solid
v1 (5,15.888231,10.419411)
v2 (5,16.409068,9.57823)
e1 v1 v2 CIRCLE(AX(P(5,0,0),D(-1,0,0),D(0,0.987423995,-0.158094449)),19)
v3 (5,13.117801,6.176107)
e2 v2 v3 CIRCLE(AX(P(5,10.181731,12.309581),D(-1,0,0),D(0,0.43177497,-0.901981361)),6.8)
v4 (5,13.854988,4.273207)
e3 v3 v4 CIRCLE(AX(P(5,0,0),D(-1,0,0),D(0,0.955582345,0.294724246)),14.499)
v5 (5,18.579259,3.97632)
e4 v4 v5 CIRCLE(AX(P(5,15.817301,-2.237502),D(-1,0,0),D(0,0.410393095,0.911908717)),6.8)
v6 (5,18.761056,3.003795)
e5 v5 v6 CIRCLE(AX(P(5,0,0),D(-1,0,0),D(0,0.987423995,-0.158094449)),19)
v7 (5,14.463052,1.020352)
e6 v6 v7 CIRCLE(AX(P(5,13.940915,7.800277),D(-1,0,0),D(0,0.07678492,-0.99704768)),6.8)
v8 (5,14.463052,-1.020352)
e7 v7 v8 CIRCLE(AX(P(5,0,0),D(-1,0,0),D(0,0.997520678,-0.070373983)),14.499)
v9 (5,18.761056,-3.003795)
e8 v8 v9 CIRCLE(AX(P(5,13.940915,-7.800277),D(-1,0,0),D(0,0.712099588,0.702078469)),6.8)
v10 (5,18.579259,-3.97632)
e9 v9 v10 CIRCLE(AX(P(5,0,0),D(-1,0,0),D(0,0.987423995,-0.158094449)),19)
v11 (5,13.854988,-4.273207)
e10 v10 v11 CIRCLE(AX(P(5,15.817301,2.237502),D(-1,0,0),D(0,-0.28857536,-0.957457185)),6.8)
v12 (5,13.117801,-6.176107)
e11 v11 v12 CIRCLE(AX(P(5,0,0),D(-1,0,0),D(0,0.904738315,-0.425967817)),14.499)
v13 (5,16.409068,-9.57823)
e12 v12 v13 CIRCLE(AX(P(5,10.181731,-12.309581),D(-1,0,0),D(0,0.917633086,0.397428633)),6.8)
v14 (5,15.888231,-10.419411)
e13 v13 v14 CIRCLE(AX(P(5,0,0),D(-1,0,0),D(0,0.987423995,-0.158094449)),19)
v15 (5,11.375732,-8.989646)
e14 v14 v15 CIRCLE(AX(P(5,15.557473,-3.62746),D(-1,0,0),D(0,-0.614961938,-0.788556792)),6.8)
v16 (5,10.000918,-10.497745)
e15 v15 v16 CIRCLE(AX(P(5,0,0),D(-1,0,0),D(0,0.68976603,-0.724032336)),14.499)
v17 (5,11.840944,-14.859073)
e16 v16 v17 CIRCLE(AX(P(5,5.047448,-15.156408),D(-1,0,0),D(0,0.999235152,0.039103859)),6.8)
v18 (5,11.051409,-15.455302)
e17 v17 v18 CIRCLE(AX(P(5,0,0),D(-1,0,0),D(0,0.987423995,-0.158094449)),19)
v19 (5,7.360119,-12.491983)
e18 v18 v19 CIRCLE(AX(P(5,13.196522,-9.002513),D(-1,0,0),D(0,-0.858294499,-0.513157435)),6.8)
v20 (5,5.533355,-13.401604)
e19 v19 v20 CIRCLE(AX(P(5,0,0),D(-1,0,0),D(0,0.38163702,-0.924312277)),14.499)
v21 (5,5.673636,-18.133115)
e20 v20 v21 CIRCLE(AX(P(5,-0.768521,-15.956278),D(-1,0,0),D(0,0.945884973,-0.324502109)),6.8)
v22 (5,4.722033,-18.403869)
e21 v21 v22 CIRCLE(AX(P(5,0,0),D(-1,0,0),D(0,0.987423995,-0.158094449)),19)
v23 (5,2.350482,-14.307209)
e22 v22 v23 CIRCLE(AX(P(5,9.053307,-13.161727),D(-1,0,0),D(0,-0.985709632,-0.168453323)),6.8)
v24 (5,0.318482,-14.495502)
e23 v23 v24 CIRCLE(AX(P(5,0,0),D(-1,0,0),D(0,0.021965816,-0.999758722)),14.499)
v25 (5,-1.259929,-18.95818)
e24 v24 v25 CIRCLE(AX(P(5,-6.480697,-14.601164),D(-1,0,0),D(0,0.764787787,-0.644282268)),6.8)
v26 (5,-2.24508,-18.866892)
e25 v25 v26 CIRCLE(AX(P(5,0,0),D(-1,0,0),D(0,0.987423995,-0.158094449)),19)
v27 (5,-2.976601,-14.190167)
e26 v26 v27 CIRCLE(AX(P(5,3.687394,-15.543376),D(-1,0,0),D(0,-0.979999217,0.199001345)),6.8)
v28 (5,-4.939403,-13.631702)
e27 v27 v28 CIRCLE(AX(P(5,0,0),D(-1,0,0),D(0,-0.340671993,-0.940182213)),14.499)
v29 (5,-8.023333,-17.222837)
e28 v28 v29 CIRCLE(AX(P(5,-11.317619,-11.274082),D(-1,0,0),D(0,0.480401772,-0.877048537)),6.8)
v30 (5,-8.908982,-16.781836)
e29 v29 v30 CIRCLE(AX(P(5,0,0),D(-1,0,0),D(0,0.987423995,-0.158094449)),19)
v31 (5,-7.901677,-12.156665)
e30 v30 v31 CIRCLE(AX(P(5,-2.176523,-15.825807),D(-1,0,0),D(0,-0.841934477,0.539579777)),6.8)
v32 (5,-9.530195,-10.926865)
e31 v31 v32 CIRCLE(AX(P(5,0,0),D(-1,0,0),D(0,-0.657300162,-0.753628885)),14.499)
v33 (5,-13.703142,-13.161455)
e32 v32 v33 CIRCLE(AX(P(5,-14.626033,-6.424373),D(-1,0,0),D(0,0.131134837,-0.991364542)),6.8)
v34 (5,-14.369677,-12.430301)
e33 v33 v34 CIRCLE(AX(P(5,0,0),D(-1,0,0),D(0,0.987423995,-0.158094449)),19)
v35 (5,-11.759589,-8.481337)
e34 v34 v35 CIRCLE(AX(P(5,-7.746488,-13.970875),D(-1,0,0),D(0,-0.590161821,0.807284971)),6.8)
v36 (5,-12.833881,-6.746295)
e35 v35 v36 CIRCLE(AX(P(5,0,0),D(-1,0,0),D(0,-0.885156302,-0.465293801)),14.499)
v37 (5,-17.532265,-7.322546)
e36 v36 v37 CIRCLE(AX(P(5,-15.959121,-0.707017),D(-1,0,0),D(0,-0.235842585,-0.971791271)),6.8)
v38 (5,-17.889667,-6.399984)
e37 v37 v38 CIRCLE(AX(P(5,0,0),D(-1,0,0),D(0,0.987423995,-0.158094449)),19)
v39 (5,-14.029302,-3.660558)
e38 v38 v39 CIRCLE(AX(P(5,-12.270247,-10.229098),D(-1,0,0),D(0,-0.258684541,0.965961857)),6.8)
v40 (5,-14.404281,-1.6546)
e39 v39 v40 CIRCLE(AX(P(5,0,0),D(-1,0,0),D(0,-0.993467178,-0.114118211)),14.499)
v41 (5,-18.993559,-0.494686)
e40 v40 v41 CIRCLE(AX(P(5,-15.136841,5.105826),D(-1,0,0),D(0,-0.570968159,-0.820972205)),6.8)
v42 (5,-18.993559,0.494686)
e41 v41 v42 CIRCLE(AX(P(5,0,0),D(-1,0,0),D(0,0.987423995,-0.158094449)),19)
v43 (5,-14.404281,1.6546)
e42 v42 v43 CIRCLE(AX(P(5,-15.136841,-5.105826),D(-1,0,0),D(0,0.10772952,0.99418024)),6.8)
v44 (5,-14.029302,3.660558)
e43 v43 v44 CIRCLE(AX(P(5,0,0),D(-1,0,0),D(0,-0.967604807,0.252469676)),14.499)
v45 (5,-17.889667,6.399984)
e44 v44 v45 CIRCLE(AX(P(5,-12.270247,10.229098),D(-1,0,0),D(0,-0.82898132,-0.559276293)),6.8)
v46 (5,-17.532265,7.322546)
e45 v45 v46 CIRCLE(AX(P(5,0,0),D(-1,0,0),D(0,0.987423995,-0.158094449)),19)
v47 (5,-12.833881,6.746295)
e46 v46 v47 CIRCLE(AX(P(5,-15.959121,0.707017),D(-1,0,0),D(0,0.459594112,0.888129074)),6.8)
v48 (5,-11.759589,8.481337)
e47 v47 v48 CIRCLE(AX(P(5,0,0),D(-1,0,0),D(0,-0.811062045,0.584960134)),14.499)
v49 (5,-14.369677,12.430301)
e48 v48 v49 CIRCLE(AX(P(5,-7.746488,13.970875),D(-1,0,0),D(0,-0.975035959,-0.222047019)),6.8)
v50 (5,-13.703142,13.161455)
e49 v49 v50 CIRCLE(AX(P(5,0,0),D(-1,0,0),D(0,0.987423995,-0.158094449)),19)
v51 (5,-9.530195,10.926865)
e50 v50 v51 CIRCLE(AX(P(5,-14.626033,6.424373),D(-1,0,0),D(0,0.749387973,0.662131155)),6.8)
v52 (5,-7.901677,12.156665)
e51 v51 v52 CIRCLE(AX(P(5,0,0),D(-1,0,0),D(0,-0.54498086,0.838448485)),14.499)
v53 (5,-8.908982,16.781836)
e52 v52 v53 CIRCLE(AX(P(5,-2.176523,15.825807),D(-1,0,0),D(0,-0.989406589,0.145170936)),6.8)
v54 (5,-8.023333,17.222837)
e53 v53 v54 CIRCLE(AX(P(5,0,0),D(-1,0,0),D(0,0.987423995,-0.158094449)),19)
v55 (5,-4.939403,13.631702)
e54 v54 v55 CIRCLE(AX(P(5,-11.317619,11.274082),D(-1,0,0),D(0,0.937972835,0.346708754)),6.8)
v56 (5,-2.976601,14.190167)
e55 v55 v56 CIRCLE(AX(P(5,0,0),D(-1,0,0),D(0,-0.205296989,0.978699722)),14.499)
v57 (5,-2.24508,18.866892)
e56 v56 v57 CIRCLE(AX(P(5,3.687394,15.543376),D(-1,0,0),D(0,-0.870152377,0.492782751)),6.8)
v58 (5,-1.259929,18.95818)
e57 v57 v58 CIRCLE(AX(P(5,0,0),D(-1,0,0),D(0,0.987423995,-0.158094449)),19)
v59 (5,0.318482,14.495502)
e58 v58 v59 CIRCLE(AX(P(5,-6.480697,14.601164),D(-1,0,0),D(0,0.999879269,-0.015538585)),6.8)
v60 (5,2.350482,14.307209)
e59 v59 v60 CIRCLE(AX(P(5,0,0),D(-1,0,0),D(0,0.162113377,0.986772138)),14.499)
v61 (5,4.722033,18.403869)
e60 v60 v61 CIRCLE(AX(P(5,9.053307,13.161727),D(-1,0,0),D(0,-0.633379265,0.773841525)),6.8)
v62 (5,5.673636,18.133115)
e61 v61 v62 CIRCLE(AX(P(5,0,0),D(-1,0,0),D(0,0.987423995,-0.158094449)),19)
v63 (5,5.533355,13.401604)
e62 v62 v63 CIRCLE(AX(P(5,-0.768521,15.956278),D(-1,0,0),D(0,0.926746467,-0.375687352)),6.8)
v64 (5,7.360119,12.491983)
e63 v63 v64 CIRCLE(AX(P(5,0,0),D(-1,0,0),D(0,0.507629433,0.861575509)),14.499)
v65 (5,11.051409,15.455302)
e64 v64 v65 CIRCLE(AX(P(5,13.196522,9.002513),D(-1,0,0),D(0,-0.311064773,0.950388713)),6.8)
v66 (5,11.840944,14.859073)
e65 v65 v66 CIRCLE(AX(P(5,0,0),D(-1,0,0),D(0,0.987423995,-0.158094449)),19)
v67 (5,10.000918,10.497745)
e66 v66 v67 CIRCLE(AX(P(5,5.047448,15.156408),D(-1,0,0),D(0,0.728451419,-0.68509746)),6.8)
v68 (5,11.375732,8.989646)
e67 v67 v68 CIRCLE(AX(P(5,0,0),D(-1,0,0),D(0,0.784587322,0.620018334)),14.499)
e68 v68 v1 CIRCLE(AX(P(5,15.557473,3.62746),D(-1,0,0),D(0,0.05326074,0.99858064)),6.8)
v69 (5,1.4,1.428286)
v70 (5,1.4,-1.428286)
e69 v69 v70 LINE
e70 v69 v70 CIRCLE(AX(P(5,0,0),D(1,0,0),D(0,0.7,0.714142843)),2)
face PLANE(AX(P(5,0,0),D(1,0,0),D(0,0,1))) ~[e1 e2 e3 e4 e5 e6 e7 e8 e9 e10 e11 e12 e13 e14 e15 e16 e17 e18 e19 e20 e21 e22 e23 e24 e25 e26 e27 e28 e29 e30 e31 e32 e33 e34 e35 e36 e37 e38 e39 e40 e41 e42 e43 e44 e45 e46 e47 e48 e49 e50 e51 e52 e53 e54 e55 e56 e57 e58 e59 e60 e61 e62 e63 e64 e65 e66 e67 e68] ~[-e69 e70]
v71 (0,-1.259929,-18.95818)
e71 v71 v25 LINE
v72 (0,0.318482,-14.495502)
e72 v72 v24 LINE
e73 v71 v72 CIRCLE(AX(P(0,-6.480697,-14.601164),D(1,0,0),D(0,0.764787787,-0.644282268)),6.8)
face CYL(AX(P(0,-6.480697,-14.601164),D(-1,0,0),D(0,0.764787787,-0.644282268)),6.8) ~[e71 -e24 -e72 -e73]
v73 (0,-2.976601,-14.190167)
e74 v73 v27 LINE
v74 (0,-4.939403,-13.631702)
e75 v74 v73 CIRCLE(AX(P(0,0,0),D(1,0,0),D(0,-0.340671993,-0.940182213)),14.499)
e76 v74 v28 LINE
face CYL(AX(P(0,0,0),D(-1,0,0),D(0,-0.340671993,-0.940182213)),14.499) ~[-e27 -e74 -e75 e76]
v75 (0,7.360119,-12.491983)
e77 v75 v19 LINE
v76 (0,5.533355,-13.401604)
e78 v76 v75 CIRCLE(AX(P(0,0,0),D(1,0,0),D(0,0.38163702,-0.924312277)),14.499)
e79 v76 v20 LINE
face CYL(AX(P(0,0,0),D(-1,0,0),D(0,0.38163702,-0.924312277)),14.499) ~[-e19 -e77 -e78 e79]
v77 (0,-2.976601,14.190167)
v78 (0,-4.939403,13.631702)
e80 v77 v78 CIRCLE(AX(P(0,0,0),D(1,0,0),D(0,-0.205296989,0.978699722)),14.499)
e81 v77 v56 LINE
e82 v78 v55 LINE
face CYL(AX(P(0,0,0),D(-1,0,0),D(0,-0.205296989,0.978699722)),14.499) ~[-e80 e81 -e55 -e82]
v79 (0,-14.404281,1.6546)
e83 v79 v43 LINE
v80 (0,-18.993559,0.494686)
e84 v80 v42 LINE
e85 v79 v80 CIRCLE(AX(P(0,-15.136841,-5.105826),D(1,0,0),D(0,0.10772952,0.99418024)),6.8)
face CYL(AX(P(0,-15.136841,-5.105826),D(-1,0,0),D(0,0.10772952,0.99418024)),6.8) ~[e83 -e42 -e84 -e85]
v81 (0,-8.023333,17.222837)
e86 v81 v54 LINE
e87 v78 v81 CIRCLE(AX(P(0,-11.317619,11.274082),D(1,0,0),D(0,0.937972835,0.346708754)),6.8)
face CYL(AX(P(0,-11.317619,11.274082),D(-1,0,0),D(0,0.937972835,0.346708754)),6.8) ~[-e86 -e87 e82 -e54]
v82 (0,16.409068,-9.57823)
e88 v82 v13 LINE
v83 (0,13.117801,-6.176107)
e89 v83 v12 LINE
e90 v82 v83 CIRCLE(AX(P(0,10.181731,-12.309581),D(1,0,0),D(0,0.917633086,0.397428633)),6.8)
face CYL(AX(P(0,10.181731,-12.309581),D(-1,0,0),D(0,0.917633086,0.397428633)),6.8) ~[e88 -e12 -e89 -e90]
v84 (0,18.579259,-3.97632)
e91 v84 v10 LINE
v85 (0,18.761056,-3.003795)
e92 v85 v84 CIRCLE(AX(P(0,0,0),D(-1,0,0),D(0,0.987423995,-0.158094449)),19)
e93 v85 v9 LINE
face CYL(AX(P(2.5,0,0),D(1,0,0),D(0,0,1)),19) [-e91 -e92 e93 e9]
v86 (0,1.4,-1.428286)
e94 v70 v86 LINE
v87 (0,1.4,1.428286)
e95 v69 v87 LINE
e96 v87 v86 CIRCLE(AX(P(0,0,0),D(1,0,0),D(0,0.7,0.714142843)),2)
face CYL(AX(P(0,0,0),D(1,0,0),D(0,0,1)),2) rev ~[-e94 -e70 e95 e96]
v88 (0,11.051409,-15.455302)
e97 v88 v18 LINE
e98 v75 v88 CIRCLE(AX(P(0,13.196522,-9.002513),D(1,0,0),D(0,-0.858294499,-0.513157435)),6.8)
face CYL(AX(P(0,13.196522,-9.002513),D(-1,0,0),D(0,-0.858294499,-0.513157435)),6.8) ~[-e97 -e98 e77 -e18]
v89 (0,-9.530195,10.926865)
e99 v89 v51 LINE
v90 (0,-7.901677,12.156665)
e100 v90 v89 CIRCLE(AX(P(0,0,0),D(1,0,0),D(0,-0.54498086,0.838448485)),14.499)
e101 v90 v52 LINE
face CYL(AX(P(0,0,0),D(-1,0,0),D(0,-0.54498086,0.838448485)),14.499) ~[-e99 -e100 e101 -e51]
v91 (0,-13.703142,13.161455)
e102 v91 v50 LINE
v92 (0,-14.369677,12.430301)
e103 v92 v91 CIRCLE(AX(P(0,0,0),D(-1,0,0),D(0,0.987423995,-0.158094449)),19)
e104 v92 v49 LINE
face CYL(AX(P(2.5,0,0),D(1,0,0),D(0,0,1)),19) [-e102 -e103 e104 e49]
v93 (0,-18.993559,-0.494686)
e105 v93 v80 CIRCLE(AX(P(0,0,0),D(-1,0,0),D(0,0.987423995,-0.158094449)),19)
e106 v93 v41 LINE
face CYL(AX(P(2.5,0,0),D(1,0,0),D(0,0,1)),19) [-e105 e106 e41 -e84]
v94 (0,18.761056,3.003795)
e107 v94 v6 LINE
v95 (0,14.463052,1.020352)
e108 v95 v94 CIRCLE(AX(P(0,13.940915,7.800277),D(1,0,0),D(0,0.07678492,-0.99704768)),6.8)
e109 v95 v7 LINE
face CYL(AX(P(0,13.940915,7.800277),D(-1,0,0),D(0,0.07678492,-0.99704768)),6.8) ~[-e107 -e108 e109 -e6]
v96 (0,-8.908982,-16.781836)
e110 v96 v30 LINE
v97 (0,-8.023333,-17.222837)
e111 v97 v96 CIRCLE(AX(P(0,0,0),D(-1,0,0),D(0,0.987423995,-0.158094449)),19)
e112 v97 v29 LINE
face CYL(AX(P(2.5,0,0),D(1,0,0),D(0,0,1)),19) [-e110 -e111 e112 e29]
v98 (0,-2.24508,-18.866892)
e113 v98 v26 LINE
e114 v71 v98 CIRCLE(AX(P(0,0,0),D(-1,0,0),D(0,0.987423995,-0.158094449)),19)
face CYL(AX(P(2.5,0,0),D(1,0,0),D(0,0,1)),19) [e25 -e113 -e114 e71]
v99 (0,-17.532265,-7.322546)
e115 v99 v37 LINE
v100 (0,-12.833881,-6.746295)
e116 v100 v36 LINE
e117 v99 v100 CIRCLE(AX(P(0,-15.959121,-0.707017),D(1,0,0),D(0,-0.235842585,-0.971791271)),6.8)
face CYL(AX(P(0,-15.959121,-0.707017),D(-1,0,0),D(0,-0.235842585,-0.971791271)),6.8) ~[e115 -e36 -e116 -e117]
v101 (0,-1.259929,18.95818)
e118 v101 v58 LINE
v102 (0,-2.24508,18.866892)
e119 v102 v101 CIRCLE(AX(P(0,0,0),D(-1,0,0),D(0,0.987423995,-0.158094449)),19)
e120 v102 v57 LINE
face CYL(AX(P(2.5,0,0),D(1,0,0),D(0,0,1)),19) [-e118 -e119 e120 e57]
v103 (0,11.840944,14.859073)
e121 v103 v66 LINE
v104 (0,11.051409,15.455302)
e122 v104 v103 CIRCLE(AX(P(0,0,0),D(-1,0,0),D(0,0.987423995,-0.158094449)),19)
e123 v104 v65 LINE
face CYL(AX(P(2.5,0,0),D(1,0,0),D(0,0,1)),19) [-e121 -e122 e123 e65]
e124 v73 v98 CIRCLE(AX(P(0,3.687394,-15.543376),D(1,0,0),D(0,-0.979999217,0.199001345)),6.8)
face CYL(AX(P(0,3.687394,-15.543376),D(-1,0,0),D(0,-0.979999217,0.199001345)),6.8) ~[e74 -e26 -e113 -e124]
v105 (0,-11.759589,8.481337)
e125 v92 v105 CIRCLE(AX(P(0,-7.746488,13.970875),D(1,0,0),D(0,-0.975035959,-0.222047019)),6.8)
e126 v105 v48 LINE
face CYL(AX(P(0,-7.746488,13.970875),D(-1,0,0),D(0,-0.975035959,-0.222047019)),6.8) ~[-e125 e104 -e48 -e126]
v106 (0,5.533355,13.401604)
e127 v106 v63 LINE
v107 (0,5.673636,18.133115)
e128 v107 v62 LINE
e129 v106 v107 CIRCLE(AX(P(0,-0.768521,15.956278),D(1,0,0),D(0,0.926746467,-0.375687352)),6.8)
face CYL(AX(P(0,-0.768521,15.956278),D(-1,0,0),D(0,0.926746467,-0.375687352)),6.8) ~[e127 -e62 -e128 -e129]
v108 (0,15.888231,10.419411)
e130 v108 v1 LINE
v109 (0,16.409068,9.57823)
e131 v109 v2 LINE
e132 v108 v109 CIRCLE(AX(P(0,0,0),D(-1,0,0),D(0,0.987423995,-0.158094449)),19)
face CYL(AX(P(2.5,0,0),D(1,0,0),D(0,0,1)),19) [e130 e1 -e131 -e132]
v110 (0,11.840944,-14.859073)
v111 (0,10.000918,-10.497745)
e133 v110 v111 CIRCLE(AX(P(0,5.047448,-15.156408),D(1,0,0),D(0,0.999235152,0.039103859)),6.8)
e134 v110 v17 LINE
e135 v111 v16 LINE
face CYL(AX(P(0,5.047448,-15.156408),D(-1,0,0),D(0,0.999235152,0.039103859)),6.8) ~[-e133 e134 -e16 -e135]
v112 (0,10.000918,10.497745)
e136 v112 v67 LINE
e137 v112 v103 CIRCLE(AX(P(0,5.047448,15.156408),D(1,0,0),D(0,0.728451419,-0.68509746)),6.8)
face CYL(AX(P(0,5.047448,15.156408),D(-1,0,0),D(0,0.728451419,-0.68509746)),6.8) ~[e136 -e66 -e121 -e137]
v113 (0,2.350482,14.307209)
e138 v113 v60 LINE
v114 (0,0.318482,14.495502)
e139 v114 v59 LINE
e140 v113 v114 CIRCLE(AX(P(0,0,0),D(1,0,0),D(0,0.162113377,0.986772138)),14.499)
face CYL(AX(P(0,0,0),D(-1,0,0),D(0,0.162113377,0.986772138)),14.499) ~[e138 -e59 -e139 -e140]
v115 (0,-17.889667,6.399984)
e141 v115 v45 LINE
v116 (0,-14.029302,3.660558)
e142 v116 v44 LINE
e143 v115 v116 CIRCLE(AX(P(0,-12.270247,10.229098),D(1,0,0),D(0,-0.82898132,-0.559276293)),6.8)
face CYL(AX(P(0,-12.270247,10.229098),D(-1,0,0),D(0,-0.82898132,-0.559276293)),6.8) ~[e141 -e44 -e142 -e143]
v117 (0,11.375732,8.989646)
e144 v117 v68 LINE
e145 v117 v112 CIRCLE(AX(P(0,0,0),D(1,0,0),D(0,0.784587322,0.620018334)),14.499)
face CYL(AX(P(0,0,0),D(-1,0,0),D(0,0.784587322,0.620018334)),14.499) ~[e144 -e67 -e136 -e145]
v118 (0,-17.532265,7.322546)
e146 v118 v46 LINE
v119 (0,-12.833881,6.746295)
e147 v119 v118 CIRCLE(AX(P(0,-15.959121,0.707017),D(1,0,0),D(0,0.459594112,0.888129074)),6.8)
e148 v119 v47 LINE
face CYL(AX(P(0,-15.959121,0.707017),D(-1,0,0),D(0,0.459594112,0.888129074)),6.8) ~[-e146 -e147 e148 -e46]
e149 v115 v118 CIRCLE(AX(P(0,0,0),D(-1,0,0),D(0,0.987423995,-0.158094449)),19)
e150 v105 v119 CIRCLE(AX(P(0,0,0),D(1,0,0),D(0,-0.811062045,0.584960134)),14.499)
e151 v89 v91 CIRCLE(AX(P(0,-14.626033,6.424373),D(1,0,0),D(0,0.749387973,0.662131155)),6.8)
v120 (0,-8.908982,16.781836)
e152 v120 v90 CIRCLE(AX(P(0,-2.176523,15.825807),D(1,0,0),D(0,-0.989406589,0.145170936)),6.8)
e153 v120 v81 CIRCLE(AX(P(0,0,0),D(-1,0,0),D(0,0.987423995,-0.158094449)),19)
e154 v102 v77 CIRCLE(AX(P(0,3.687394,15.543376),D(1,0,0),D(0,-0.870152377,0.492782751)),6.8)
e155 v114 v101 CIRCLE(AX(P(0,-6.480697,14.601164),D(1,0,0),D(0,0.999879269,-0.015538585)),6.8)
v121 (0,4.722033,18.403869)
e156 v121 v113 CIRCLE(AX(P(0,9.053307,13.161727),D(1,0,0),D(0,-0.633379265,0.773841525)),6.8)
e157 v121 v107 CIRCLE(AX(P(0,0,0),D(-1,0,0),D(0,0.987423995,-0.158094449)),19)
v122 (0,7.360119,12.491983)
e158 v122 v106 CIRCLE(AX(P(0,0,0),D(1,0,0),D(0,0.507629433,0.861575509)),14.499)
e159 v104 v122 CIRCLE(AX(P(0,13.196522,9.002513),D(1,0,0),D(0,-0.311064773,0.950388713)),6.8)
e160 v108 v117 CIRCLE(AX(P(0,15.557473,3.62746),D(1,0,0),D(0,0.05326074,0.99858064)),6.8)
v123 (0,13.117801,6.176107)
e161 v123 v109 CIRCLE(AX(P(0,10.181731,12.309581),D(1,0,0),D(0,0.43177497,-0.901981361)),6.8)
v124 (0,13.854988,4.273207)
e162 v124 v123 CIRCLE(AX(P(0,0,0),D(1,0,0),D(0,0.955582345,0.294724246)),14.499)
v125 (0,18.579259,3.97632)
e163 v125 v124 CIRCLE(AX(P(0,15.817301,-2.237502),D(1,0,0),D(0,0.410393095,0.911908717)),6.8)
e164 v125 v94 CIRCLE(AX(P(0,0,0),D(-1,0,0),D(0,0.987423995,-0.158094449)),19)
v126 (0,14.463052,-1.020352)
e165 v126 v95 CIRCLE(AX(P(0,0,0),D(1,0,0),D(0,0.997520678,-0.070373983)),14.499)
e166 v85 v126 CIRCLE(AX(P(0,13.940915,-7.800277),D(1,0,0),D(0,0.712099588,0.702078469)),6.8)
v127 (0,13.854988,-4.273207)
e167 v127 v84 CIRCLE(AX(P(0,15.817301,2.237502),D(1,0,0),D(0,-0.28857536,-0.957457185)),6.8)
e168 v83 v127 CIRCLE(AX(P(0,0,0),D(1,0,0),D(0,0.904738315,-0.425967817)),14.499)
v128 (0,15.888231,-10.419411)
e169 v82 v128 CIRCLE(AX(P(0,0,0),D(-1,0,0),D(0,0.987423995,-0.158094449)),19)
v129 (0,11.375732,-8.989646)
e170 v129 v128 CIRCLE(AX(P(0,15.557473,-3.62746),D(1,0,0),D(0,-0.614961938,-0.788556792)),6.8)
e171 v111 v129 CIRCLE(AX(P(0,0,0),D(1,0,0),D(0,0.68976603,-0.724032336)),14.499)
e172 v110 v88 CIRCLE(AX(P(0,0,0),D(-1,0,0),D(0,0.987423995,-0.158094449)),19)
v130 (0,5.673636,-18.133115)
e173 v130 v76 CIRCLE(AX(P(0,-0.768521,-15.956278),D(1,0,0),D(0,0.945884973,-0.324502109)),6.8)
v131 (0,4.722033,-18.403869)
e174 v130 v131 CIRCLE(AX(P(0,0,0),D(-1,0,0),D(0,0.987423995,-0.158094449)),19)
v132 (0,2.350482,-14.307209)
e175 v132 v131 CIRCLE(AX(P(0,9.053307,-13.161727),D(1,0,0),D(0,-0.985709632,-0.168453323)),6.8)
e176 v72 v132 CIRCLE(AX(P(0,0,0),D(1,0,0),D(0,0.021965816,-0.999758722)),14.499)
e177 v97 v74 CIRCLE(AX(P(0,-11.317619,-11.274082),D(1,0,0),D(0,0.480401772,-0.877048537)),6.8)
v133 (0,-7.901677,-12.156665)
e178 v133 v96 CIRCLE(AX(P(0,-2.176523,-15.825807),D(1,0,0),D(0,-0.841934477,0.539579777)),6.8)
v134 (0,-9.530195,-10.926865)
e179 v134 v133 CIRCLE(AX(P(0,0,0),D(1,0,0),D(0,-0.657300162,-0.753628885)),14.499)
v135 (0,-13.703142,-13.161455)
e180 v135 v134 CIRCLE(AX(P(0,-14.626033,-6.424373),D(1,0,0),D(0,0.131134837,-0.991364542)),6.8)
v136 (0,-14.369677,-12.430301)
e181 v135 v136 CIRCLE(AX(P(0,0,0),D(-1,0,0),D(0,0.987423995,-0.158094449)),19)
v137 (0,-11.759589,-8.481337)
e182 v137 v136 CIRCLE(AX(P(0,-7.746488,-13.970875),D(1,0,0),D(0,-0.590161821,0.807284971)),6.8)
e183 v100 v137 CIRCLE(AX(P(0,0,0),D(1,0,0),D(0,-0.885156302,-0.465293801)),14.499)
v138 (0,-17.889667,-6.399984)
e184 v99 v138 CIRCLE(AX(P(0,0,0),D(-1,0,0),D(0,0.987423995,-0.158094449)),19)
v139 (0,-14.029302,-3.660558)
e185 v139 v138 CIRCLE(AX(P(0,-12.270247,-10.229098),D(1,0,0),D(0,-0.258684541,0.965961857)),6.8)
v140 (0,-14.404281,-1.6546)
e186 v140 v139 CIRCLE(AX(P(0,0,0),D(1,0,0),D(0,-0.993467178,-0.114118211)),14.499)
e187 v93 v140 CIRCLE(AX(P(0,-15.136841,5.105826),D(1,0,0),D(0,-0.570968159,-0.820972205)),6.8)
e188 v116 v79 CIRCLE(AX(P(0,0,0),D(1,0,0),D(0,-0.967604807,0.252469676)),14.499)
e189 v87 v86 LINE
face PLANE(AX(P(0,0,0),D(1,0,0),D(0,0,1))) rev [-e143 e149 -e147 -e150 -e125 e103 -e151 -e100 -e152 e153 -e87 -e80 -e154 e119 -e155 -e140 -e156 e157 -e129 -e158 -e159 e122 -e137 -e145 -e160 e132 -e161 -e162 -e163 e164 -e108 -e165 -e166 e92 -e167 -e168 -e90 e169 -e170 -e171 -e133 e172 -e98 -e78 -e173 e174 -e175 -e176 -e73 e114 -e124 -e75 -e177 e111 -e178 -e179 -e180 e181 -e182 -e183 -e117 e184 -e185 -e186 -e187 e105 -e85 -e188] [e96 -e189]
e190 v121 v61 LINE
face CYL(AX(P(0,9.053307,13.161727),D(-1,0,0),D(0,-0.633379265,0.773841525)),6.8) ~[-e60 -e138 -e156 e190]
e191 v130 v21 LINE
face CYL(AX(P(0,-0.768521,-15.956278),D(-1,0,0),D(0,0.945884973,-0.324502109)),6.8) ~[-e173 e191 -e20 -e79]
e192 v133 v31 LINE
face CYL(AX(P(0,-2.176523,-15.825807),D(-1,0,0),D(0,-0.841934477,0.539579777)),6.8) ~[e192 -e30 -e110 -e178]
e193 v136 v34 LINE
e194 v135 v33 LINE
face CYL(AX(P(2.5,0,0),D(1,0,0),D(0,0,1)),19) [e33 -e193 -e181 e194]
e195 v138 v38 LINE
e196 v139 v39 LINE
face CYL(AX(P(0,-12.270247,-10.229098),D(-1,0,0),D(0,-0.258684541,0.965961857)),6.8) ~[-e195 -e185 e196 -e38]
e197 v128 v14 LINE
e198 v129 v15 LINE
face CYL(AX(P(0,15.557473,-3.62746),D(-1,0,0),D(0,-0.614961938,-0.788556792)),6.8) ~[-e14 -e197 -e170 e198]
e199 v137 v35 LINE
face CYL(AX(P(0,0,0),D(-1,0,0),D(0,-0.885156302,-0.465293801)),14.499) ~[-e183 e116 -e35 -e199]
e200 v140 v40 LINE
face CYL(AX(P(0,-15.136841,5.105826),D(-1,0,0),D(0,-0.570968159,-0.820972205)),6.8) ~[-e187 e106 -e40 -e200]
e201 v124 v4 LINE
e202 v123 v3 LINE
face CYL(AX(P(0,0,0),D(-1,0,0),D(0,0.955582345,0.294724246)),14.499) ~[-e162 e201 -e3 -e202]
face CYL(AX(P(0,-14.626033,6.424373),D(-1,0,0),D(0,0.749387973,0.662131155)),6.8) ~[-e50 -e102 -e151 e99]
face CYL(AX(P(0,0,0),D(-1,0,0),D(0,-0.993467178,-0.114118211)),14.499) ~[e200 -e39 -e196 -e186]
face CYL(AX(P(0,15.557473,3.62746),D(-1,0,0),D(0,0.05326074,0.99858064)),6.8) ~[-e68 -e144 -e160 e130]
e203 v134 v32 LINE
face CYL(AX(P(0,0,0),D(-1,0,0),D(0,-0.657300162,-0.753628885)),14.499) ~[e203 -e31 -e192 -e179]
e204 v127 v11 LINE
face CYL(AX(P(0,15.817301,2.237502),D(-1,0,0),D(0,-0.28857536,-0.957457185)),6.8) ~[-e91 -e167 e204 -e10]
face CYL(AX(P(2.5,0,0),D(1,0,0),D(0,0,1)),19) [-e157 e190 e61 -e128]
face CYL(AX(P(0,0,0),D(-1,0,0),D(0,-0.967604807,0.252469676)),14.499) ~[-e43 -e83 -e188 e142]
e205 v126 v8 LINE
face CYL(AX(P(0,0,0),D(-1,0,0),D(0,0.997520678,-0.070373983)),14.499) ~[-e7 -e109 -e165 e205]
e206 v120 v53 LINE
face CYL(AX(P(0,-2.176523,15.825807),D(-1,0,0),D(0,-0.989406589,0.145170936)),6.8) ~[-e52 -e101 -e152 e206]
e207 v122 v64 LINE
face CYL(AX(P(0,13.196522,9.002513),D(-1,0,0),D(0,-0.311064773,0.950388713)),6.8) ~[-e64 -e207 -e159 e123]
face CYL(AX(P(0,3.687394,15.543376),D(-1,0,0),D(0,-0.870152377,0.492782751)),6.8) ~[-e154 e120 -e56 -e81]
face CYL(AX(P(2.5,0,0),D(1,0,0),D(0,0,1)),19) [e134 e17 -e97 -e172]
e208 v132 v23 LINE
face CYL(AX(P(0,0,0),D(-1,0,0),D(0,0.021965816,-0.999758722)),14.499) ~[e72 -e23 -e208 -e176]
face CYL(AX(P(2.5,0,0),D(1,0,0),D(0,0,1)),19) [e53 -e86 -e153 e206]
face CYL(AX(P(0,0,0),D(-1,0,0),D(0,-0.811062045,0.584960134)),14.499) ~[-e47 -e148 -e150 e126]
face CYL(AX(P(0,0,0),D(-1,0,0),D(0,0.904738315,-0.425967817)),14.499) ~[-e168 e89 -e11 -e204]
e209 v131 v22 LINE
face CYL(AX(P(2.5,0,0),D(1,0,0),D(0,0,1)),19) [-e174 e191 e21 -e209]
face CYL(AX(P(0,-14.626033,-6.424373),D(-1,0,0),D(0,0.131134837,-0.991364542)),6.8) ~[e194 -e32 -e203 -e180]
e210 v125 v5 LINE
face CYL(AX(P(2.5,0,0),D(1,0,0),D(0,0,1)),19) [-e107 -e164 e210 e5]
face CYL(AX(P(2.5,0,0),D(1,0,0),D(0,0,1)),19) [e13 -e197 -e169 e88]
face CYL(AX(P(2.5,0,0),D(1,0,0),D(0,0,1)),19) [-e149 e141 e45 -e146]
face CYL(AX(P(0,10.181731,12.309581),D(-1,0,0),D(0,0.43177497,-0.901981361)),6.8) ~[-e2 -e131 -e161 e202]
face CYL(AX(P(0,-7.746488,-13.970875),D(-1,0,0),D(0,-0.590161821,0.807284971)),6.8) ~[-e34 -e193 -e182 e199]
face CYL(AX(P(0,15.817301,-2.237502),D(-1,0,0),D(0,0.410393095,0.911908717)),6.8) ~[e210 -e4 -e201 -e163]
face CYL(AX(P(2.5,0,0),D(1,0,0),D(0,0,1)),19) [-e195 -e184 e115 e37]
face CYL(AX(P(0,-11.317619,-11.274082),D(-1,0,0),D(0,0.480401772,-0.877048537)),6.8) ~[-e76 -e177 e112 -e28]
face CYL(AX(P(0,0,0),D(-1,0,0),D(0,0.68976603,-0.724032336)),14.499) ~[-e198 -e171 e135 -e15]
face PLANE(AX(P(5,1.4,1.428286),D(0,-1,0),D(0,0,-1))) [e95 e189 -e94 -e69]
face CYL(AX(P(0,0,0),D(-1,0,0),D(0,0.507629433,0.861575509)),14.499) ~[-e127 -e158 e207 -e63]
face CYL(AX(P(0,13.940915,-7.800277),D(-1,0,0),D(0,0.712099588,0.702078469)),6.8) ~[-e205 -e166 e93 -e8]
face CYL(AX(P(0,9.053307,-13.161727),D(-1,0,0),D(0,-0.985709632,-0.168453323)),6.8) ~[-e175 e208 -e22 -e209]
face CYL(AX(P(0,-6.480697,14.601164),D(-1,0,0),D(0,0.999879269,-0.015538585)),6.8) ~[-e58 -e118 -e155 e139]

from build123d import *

# Parameters (mm, degrees)
BASPROSKE_W         = 5
BASPROSKE_H         = 19
TOOTHCUT_DEPTH      = 28.331300737
TEETHCUTS_COUNT     = 17
TEETHCUTS_ANGLE     = 338.823529412
BORSKE_R            = 2
BORE_DEPTH          = 50.0000508
BOSS_EXTRUDE1_DEPTH = 5


with BuildPart() as part:
    # BasProSke → Base-Revolve (revolve)
    with BuildSketch(Plane(origin=(0, 0, 0), x_dir=(1, 0, 0), z_dir=(0, 1, 0)), mode=Mode.PRIVATE) as base_revolve_sk:
        with Locations((2.5, 9.5)):
            Rectangle(BASPROSKE_W, BASPROSKE_H)
    revolve(base_revolve_sk.sketch.rotate(Axis((-10, 0, 0), (1, 0, 0)), 180), axis=Axis((-10, 0, 0), (1, 0, 0)))

    # TooCutSke → ToothCut (cut, through all)
    with BuildSketch(Plane(origin=(0, 0, 0), x_dir=(0, 0, -1), z_dir=(1, 0, 0))):
        with BuildLine():
            ThreePointArc((1.020352389, 14.463052306), (0, 14.499), (-1.020352389, 14.463052306))
            ThreePointArc((-1.020352389, 14.463052306), (-1.632621885, 16.804485203), (-3.026143023, 18.783192049))
            ThreePointArc((-3.026143023, 18.783192049), (0, 19.0254), (3.026143023, 18.783192049))
            ThreePointArc((3.026143023, 18.783192049), (1.632621885, 16.804485203), (1.020352389, 14.463052306))
        make_face()
    toothcut = extrude(amount=TOOTHCUT_DEPTH, mode=Mode.SUBTRACT)

    # TeethCuts: ToothCut ×17 about axis
    teethcuts_axis = Axis((-10, 0, 0), (1, 0, 0))
    for i in range(1, TEETHCUTS_COUNT):
        add(toothcut.rotate(teethcuts_axis, i * TEETHCUTS_ANGLE / (TEETHCUTS_COUNT - 1)), mode=Mode.SUBTRACT)

    # BorSke → Bore (cut, symmetric)
    with BuildSketch(Plane(origin=(0, 0, 0), x_dir=(0, 0, -1), z_dir=(1, 0, 0))):
        with Locations(Location((0, 0, 0), (0, 0, 180))):
            Circle(BORSKE_R)
    extrude(amount=BORE_DEPTH, both=True, mode=Mode.SUBTRACT)

    # Sketch1 → Boss-Extrude1 (add)
    with BuildSketch(Plane(origin=(5, 0, 0), x_dir=(0, 0, -1), z_dir=(1, 0, 0))):
        with BuildLine():
            ThreePointArc((1.428285686, 1.4), (0, 2), (-1.428285686, 1.4))
            Line((-1.428285686, 1.4), (1.428285686, 1.4))
        make_face()
    extrude(amount=-BOSS_EXTRUDE1_DEPTH)


solid = part.part
